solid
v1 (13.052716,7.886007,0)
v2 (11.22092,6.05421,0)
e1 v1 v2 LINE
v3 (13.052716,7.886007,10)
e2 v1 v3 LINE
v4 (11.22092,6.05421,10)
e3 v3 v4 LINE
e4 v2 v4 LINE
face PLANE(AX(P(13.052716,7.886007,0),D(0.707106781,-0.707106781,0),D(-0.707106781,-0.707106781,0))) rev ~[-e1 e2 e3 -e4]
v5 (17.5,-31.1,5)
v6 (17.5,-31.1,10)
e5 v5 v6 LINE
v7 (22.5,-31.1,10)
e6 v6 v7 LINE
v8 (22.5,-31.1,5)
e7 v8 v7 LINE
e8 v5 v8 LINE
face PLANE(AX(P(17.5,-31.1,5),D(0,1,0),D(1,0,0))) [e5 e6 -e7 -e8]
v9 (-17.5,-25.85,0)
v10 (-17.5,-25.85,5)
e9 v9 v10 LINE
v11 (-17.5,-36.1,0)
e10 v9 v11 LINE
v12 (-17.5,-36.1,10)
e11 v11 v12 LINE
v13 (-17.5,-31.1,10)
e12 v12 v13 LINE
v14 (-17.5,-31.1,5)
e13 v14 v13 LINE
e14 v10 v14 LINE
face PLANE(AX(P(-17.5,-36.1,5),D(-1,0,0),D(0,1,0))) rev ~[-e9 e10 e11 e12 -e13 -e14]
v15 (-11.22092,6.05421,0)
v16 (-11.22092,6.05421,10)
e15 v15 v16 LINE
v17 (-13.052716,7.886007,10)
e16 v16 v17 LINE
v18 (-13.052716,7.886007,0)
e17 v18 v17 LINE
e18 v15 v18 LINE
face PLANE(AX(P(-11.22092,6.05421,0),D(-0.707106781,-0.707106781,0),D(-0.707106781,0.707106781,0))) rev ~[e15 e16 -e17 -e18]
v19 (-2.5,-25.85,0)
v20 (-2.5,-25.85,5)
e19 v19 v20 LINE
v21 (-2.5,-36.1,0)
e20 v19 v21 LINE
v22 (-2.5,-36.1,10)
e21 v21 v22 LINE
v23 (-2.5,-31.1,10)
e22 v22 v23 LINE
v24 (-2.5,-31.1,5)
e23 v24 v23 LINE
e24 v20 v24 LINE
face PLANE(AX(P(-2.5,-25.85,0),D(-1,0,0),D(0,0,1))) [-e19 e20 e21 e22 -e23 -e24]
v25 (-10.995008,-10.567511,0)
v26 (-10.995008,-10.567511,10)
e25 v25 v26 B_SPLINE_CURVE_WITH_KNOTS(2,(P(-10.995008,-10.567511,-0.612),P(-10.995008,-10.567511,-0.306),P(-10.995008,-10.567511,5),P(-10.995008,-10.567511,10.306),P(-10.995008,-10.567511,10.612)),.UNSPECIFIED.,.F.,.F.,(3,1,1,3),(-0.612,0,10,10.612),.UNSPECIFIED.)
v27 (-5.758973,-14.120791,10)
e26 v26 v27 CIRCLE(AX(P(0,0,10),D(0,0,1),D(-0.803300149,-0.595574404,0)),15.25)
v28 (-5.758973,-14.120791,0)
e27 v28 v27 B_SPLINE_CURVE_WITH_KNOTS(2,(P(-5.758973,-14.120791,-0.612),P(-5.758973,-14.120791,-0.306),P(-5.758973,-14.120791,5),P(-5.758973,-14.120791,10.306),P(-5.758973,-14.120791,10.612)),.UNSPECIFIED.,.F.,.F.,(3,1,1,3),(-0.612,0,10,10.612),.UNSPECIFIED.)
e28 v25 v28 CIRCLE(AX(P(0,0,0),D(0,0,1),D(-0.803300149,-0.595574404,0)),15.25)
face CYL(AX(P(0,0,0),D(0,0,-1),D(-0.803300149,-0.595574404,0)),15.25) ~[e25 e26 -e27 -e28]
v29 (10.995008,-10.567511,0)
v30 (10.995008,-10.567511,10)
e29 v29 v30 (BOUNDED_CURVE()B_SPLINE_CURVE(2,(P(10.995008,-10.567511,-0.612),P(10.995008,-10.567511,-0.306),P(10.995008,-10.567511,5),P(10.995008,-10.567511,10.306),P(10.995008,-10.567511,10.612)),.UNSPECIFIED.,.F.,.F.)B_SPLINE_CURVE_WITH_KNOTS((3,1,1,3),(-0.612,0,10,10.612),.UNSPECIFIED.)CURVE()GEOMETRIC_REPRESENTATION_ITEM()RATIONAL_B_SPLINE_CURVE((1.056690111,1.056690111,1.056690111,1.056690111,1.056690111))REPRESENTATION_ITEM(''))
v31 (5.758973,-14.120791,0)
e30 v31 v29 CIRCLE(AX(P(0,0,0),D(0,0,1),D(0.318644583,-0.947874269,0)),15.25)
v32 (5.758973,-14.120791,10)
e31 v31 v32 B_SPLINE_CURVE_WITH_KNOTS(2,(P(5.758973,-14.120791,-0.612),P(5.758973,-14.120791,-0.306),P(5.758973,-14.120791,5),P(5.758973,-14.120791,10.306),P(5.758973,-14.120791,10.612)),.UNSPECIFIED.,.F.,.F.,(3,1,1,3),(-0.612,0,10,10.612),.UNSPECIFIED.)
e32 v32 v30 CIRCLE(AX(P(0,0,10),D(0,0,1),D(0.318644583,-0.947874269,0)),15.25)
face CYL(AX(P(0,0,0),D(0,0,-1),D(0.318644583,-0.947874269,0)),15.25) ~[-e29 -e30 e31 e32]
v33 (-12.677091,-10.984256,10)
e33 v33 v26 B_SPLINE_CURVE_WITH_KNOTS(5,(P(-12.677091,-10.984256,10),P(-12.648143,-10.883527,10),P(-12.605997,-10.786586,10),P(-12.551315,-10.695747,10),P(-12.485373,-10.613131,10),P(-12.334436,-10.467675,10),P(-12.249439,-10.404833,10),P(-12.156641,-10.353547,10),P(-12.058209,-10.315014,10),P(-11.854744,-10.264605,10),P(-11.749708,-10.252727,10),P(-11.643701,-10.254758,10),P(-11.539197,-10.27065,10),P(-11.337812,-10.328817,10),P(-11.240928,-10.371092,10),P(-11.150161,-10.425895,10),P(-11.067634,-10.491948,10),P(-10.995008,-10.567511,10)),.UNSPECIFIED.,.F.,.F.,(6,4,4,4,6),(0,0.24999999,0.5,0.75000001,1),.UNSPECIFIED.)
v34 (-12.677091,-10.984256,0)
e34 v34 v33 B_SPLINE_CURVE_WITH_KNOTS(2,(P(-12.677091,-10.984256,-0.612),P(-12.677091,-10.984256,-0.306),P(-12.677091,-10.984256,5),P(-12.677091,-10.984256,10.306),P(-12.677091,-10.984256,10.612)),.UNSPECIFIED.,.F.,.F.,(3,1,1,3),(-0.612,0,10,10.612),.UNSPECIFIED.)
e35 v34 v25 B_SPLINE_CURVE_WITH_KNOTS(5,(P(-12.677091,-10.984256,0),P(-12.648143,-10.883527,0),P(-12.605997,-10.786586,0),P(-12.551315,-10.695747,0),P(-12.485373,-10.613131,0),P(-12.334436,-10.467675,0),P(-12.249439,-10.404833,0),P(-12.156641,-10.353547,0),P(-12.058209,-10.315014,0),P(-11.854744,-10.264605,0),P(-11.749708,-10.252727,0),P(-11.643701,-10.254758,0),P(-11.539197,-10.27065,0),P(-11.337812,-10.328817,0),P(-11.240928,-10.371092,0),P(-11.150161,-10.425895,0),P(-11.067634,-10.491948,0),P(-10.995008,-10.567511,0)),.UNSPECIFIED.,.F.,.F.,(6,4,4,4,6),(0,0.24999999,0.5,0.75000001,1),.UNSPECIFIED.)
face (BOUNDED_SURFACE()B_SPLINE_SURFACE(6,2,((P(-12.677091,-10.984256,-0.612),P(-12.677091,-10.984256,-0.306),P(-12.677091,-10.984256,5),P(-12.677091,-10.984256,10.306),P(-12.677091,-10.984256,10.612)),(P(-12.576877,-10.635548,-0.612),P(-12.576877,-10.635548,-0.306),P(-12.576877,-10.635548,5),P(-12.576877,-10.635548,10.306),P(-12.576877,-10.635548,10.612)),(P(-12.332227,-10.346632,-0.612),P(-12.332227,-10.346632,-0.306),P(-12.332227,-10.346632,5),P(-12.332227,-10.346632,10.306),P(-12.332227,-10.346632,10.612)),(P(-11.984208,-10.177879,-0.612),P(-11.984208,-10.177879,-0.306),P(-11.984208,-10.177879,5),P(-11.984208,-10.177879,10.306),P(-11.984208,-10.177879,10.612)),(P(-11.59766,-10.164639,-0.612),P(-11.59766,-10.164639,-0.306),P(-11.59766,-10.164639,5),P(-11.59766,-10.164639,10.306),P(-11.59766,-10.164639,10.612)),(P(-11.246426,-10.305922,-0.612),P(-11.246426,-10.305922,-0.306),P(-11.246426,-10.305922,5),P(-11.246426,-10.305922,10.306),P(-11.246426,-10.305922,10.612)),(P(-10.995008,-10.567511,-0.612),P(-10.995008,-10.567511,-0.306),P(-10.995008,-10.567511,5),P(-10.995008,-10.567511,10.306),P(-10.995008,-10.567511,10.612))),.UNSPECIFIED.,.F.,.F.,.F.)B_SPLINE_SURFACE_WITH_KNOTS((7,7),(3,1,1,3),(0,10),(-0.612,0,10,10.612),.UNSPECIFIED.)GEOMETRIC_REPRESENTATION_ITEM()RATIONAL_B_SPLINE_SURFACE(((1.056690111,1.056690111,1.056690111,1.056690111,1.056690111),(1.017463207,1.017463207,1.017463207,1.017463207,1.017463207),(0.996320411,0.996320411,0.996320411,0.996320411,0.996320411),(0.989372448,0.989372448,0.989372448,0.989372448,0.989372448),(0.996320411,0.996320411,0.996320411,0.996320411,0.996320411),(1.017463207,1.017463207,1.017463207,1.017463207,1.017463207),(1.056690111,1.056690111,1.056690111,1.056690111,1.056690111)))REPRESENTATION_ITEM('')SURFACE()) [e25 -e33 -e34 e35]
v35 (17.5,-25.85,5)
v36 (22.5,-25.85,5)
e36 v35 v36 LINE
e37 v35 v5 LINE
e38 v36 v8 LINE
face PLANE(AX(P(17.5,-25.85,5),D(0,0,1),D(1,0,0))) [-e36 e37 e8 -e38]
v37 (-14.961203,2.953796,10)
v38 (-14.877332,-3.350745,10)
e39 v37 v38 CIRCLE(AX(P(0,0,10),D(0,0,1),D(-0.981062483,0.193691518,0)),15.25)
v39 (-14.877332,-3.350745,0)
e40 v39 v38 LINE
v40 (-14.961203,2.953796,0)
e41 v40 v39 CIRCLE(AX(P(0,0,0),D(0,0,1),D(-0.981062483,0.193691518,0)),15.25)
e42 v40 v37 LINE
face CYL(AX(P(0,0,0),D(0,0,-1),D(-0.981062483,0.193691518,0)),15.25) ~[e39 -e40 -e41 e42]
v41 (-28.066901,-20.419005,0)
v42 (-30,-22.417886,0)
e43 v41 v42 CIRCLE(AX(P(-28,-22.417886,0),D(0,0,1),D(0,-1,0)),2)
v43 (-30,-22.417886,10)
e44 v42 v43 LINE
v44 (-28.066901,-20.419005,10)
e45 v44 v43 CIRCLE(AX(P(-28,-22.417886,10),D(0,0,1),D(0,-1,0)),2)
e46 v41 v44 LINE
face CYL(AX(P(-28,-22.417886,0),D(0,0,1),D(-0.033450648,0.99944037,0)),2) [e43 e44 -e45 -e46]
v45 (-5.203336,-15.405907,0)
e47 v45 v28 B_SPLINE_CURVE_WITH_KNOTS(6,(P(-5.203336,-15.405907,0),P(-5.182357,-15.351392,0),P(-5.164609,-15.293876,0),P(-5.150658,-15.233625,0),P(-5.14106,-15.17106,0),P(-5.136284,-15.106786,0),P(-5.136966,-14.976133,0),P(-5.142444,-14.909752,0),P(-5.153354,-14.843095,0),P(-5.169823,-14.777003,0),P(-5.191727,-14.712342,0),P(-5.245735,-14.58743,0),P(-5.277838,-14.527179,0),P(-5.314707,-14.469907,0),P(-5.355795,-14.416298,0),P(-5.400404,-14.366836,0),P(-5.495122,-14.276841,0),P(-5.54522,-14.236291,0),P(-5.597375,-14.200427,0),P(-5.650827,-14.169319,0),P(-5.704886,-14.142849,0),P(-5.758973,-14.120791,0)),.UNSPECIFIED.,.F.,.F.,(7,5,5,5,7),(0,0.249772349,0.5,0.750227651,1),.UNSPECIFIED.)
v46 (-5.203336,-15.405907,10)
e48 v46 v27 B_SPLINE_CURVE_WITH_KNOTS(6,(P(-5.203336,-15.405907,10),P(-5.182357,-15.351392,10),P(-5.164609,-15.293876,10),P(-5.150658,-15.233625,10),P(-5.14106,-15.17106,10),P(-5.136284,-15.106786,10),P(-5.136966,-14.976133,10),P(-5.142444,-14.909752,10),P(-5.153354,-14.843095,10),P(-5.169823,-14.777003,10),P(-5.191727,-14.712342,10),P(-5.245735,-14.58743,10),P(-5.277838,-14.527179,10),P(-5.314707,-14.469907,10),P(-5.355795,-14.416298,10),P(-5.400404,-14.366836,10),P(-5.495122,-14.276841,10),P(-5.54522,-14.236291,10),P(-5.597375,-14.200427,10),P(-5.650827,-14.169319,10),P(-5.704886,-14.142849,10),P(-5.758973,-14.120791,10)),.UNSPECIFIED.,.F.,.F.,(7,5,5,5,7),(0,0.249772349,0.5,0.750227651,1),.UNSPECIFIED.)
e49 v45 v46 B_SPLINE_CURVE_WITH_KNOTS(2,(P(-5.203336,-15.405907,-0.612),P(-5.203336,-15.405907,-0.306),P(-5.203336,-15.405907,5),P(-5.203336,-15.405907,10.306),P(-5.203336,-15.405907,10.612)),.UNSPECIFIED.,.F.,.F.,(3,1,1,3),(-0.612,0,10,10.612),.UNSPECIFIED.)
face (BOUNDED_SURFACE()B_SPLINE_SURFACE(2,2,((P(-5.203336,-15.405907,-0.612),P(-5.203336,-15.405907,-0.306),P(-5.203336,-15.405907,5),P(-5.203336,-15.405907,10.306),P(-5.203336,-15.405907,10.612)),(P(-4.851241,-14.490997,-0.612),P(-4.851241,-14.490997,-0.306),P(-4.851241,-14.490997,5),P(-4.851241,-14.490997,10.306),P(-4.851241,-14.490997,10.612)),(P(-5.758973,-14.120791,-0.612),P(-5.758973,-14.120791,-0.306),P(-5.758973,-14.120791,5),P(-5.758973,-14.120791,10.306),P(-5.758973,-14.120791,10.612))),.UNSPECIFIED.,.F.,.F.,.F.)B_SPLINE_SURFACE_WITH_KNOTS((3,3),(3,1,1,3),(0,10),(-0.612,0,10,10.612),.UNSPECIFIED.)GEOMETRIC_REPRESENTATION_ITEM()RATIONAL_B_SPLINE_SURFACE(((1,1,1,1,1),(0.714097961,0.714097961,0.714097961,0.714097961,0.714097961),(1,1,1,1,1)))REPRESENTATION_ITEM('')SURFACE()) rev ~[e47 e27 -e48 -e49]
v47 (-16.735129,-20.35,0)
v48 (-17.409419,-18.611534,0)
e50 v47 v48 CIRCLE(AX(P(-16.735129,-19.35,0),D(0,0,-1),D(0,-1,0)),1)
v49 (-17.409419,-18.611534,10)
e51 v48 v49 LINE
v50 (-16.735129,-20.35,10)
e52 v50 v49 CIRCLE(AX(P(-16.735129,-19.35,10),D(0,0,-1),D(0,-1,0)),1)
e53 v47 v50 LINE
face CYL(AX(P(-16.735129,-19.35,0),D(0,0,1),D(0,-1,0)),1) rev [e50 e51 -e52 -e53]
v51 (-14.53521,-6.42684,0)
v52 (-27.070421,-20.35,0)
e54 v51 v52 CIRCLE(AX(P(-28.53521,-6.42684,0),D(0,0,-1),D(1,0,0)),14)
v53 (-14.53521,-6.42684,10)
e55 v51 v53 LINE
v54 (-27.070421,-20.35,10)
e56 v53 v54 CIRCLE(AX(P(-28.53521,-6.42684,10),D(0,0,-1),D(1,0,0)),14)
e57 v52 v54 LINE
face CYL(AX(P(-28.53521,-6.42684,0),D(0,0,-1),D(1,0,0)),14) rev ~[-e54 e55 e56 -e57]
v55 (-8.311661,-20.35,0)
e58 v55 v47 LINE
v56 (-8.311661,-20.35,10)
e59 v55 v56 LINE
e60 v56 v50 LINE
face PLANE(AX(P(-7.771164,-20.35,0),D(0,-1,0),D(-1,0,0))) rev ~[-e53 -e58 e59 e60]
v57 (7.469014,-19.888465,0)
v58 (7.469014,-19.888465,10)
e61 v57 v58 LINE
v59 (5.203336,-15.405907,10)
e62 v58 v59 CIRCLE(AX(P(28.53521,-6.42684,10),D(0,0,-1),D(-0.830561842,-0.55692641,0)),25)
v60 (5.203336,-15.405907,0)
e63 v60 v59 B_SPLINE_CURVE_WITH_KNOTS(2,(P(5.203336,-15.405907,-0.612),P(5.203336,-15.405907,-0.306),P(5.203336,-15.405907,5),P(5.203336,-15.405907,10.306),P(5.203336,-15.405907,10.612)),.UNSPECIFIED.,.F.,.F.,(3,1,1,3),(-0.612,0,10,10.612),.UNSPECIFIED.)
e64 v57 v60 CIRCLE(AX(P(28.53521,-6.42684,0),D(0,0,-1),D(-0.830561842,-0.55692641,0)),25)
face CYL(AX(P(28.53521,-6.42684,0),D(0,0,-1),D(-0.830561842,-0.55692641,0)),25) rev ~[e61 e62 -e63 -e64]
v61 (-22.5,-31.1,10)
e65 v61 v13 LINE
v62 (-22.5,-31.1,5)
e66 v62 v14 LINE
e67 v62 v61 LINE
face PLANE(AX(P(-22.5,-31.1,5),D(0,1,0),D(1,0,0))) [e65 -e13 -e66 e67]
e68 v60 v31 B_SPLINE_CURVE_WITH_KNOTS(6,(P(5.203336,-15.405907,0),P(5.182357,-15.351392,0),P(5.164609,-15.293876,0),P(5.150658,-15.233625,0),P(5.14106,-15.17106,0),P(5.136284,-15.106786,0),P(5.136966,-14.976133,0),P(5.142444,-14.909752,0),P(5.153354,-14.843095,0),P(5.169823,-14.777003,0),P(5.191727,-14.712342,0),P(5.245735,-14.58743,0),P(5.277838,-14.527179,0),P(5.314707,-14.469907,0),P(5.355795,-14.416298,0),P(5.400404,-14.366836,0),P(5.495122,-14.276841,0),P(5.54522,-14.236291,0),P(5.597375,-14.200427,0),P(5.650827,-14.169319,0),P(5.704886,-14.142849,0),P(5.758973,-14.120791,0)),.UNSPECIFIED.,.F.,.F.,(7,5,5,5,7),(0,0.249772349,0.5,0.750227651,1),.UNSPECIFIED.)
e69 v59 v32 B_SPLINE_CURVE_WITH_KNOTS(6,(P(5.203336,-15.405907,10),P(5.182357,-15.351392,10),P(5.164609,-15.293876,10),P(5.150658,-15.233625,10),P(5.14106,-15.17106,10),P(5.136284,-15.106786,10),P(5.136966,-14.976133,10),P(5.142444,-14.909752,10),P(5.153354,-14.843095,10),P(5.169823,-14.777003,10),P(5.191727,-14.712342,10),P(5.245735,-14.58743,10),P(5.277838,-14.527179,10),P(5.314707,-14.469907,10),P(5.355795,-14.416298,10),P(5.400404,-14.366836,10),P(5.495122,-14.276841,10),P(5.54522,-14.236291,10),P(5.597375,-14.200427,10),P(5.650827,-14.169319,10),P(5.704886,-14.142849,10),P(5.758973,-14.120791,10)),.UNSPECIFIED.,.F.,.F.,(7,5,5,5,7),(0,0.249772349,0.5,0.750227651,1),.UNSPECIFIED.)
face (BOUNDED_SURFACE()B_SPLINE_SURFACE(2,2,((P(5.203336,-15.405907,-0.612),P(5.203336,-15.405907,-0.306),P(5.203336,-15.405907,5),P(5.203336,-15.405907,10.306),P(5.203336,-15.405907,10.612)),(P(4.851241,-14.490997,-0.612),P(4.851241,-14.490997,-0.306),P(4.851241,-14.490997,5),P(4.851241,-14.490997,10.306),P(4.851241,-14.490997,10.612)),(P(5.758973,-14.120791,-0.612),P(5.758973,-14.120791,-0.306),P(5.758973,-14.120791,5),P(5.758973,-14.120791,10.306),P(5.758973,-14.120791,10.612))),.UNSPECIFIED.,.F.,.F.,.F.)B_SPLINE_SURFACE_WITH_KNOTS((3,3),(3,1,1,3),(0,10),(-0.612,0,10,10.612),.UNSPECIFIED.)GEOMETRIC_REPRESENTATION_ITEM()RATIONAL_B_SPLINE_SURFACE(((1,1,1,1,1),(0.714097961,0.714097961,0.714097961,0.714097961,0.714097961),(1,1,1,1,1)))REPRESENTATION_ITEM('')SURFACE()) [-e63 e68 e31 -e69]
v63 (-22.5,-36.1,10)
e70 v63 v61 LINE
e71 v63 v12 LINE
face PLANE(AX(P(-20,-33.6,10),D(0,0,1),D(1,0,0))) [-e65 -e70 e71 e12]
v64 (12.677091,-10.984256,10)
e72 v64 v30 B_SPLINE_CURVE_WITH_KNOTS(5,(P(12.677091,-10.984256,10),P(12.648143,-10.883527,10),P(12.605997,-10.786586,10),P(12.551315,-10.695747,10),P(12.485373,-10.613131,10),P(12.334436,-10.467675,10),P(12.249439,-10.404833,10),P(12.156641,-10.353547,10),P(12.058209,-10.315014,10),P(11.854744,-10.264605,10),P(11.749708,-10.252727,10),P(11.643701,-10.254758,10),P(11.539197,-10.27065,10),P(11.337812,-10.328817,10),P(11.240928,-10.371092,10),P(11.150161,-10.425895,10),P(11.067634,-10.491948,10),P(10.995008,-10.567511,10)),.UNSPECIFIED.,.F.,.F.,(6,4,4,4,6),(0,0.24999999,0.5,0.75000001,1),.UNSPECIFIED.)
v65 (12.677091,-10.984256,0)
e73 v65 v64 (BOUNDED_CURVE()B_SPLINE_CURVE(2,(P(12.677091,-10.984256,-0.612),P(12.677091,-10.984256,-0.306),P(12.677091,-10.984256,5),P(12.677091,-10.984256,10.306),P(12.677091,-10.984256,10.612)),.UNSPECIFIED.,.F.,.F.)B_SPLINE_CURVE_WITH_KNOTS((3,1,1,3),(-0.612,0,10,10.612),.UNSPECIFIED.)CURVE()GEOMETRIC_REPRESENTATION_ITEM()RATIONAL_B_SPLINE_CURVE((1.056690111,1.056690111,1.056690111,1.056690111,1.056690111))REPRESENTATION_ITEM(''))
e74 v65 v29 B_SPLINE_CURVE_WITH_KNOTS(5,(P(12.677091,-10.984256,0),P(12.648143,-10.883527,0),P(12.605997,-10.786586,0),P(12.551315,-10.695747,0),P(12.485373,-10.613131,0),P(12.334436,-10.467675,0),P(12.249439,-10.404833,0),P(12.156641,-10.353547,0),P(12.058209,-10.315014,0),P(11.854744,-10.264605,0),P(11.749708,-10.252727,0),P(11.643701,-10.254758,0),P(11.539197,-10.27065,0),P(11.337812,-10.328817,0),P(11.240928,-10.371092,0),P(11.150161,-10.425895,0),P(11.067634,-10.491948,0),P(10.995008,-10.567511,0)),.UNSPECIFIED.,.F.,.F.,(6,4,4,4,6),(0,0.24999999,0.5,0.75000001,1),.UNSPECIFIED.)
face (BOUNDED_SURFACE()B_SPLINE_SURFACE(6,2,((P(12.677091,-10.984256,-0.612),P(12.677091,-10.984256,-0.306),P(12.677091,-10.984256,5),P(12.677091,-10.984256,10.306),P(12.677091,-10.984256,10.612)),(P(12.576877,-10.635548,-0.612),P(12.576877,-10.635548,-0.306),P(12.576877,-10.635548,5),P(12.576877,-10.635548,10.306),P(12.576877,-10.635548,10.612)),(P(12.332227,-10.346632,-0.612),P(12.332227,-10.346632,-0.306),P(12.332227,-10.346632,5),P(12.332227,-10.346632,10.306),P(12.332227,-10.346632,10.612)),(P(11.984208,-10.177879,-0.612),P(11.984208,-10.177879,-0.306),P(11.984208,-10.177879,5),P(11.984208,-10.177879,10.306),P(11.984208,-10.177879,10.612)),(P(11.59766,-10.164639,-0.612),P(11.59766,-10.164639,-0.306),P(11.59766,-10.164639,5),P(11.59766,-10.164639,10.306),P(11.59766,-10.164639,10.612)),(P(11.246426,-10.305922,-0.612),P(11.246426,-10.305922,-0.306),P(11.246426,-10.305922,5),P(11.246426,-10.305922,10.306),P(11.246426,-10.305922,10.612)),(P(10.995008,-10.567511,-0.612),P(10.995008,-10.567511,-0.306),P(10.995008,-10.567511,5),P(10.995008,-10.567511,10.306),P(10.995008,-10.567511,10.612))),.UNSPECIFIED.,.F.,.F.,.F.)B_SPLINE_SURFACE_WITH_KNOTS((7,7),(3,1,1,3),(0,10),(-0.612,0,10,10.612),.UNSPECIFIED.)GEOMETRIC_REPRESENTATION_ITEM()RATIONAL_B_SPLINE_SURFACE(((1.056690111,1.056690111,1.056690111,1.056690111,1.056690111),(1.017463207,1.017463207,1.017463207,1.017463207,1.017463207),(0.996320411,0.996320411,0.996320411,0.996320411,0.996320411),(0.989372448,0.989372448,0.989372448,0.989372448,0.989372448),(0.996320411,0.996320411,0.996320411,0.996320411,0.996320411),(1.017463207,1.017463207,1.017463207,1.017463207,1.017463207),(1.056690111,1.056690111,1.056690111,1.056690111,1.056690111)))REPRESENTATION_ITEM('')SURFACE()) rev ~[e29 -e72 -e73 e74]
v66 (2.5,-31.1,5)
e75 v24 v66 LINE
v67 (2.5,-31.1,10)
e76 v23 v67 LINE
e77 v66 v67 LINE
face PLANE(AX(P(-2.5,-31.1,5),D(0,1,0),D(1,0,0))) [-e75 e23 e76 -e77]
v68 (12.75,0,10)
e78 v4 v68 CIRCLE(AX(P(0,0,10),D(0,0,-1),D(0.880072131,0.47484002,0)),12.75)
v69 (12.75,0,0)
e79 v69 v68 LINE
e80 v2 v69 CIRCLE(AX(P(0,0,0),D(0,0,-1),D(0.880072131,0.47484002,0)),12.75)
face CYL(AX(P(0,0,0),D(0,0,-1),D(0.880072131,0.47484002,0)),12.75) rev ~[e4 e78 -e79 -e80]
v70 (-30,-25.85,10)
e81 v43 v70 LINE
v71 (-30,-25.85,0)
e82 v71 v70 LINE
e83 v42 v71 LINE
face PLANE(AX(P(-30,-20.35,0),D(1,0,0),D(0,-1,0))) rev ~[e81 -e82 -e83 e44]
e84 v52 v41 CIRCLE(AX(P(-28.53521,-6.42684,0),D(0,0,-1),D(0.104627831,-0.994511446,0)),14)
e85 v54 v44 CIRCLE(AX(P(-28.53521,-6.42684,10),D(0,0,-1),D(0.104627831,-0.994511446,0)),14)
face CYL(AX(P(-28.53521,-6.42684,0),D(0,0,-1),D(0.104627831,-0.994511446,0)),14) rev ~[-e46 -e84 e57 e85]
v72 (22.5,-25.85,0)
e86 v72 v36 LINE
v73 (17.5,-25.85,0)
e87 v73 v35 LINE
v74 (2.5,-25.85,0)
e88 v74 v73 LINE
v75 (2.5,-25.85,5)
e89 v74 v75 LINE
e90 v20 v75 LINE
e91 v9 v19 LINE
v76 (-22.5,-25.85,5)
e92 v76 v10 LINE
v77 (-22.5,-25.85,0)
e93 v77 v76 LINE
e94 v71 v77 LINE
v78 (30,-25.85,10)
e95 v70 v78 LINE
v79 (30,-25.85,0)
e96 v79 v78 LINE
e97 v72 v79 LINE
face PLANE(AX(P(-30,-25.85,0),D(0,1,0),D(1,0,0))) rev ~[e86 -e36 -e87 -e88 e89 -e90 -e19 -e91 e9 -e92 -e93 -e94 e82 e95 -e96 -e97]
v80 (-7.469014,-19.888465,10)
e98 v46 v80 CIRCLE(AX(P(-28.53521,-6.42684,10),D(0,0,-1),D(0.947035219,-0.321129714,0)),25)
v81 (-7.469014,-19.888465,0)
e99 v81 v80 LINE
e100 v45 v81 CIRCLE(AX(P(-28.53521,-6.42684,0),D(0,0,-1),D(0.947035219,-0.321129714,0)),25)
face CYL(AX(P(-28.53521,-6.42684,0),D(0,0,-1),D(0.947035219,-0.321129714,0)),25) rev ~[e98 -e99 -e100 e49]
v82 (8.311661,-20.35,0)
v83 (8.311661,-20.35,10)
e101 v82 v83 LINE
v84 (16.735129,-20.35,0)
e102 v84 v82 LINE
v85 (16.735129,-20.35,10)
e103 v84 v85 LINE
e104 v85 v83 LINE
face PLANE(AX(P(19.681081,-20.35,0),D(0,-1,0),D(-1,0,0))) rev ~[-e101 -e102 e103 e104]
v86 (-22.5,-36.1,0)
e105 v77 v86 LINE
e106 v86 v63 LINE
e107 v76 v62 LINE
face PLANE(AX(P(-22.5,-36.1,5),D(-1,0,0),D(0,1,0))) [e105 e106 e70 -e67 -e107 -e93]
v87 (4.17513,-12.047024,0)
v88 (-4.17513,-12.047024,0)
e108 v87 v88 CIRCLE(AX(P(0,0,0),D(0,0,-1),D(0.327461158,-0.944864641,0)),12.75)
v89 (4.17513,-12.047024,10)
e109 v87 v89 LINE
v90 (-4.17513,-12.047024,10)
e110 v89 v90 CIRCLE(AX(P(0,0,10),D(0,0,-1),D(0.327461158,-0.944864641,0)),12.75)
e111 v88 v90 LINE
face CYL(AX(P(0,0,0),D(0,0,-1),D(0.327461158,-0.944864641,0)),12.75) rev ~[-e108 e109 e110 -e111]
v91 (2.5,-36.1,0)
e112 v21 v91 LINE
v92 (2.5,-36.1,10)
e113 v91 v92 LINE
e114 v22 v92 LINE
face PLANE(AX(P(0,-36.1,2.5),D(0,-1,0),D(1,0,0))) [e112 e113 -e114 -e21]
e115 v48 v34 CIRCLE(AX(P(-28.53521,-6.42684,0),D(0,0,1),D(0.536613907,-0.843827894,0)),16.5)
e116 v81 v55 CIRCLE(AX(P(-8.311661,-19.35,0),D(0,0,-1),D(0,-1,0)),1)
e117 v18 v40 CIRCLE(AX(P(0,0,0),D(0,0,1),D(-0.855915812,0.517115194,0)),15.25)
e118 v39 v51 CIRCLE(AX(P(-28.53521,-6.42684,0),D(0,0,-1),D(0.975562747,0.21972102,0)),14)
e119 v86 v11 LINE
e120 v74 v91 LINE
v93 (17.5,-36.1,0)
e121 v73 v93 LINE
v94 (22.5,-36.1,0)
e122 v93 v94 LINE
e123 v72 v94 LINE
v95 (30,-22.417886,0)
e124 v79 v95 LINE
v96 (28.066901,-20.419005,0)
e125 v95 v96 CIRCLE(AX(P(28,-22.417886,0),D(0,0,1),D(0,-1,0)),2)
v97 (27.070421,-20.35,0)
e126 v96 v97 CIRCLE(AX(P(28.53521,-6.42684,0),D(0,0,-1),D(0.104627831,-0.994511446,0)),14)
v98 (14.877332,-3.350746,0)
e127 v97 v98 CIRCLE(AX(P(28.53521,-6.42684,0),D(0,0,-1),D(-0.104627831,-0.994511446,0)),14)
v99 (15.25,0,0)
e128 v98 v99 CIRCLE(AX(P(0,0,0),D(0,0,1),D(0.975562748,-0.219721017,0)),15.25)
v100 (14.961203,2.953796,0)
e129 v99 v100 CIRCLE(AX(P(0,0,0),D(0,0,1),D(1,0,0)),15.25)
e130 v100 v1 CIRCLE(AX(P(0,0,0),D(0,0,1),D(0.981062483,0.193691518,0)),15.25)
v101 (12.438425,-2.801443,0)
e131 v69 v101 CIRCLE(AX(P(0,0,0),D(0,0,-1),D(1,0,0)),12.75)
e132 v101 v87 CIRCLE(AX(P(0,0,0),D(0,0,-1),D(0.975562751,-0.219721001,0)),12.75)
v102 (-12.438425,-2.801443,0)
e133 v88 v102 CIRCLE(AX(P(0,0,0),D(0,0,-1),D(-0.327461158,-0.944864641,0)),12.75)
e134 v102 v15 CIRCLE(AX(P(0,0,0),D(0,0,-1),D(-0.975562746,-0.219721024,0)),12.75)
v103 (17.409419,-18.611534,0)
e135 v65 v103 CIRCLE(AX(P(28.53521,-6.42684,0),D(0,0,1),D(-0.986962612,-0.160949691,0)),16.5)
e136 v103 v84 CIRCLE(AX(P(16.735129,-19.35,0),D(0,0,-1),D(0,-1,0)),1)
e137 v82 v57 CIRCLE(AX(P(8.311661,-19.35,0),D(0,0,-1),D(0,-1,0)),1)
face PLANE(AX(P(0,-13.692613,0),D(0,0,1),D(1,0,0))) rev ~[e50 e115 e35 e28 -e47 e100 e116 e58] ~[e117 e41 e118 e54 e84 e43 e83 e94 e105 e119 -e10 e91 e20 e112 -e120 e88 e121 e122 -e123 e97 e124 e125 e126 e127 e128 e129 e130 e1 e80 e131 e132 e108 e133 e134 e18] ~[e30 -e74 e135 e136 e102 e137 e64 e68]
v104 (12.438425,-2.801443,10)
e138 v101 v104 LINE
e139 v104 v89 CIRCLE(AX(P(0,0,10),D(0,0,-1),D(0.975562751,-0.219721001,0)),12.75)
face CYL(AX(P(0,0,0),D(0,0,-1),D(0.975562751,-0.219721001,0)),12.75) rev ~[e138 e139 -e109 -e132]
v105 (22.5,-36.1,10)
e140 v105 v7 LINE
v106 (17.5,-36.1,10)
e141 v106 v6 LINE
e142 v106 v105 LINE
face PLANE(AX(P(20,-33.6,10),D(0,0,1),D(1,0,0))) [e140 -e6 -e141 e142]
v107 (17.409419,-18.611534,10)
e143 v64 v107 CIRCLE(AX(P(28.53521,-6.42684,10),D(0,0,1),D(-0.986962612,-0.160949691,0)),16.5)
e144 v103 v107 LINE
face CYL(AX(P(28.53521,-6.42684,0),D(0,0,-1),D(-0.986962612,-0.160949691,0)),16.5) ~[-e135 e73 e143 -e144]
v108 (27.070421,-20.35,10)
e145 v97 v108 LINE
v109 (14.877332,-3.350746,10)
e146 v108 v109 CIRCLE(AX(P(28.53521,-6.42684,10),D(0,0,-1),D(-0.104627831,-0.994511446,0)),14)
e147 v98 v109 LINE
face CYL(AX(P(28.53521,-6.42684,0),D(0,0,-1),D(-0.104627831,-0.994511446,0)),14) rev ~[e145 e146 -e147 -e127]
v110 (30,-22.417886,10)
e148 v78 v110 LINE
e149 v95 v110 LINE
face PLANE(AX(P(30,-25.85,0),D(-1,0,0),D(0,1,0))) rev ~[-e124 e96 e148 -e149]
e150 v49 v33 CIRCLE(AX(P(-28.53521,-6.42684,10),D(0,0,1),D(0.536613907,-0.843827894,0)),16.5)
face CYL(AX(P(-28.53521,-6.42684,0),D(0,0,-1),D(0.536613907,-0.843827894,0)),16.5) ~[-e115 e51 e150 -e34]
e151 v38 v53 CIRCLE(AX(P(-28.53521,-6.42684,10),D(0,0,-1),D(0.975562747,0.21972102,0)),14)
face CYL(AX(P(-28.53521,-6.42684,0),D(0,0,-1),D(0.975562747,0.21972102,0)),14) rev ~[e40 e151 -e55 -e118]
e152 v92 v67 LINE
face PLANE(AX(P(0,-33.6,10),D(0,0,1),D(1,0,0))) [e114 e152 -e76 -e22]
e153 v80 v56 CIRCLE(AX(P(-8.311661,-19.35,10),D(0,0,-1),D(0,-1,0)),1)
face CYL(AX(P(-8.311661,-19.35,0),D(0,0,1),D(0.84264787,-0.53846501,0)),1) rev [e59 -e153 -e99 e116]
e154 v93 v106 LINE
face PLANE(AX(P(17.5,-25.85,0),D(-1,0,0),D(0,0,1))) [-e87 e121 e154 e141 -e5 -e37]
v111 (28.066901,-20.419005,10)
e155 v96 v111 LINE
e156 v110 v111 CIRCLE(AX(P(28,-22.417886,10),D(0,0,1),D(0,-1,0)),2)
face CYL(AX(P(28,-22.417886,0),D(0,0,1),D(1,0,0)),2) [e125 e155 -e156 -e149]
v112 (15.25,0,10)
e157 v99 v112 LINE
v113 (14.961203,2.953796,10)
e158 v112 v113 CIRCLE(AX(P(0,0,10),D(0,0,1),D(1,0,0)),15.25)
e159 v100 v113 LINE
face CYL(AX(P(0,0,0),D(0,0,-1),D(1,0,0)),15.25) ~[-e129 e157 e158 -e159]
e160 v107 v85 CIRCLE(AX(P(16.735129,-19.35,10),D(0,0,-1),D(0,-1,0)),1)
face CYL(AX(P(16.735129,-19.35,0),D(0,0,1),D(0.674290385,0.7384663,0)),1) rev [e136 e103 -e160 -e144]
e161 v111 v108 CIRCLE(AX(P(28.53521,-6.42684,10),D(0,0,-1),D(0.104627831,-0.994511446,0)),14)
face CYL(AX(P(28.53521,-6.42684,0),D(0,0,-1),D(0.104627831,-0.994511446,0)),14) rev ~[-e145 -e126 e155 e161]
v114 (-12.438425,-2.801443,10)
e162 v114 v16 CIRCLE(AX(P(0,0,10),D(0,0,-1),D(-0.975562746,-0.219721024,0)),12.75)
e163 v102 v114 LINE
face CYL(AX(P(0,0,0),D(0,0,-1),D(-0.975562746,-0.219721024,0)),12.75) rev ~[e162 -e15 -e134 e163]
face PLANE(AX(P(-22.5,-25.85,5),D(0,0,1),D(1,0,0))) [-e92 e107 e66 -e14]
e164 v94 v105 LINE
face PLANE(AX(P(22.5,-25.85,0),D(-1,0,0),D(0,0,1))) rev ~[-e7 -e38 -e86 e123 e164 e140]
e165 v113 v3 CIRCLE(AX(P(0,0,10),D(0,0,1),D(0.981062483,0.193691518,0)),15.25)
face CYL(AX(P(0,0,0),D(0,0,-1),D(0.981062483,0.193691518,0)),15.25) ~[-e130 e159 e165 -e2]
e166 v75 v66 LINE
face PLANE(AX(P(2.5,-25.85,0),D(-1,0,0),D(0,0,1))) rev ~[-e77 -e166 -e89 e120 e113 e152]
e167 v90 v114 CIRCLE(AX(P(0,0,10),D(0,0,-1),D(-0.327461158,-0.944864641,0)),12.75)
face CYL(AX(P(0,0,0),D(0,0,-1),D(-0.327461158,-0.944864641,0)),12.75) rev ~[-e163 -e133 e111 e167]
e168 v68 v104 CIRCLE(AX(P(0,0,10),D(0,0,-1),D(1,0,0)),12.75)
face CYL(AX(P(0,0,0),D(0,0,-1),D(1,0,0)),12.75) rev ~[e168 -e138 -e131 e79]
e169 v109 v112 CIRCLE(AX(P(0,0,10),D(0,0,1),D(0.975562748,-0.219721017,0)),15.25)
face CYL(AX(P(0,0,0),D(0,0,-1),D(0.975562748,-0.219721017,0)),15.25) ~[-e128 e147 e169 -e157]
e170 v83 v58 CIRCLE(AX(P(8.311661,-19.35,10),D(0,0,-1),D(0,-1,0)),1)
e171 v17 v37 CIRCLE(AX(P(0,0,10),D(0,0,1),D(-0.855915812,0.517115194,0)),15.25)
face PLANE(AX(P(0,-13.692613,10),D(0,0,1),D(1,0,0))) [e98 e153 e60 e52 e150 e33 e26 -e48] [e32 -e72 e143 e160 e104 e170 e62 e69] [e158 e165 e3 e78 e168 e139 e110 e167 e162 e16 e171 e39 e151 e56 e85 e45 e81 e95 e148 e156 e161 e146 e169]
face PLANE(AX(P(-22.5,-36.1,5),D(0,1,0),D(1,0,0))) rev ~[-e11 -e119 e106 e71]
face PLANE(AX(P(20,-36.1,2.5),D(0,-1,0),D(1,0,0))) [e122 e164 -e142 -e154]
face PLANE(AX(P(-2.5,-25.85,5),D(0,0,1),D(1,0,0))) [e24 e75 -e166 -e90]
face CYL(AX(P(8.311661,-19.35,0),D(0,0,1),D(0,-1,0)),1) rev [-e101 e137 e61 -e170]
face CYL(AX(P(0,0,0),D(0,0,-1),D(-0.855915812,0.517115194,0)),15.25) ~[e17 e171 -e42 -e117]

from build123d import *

# Parameters (mm, degrees)
F1_DEPTH = 10
F2_R     = 1
F3_R     = 2
F4_W     = 5
F4_H     = 5
F5_DEPTH = 10.25
F6_W     = 5
F6_H     = 5
F7_W     = 5
F7_H     = 5
F8_W     = 5
F8_H     = 5
F9_DEPTH = 5


with BuildPart() as f1:
    # F0 (on Top) → F1 (new body)
    with BuildSketch(Plane.XY):
        with BuildLine():
            ThreePointArc((4.8593298853, -14.4550826032), (4.4870695728, -13.259622802), (4.1751297651, -12.0470241738))
            ThreePointArc((4.1751297651, -12.0470241738), (0, -12.75), (-4.1751297651, -12.0470241738))
            ThreePointArc((-4.1751297651, -12.0470241738), (-4.4870695728, -13.259622802), (-4.8593298853, -14.4550826032))
            ThreePointArc((-4.8593298853, -14.4550826032), (-2.4619596159, -15.0499586328), (0, -15.25))
            ThreePointArc((0, -15.25), (2.4619596159, -15.0499586328), (4.8593298853, -14.4550826032))
        make_face()
        with BuildLine():
            ThreePointArc((0, -15.25), (-2.4619596159, -15.0499586328), (-4.8593298853, -14.4550826032))
            ThreePointArc((-4.8593298853, -14.4550826032), (-6.1206106512, -17.4986832949), (-7.7711643122, -20.35))
            Line((-7.7711643122, -20.35), (0, -20.35))
            Line((0, -20.35), (0, -15.25))
        make_face()
        with BuildLine():
            ThreePointArc((7.7711643122, -20.35), (6.1206106512, -17.4986832949), (4.8593298853, -14.4550826032))
            ThreePointArc((4.8593298853, -14.4550826032), (2.4619596159, -15.0499586328), (0, -15.25))
            Line((0, -15.25), (0, -20.35))
            Line((0, -20.35), (7.7711643122, -20.35))
        make_face()
        with BuildLine():
            ThreePointArc((-12.1977073115, -25.35), (-9.8167372296, -22.998464997), (-7.7711643122, -20.35))
            Line((-7.7711643122, -20.35), (-19.6810808999, -20.35))
            ThreePointArc((-19.6810808999, -20.35), (-24.6329372033, -22.4587536765), (-30, -22.8616926958))
            Line((-30, -22.8616926958), (-30, -25.35))
            Line((-30, -25.35), (-12.1977073115, -25.35))
        make_face()
        with BuildLine():
            Line((-30, -20.35), (-30, -22.8616926958))
            ThreePointArc((-30, -22.8616926958), (-24.6329372033, -22.4587536765), (-19.6810808999, -20.35))
            Line((-19.6810808999, -20.35), (-27.0704207387, -20.35))
            ThreePointArc((-27.0704207387, -20.35), (-28.5352103694, -20.4268397503), (-30, -20.35))
        make_face()
        with BuildLine():
            Line((0, -20.35), (-7.7711643122, -20.35))
            ThreePointArc((-7.7711643122, -20.35), (-9.8167372296, -22.998464997), (-12.1977073115, -25.35))
            Line((-12.1977073115, -25.35), (0, -25.35))
            Line((0, -25.35), (0, -20.35))
        make_face()
        with BuildLine():
            ThreePointArc((12.1977073115, -25.35), (9.8167372296, -22.998464997), (7.7711643122, -20.35))
            Line((7.7711643122, -20.35), (0, -20.35))
            Line((0, -20.35), (0, -25.35))
            Line((0, -25.35), (12.1977073115, -25.35))
        make_face()
        with BuildLine():
            Line((19.6810808999, -20.35), (7.7711643122, -20.35))
            ThreePointArc((7.7711643122, -20.35), (9.8167372296, -22.998464997), (12.1977073115, -25.35))
            Line((12.1977073115, -25.35), (30, -25.35))
            Line((30, -25.35), (30, -22.8616926958))
            ThreePointArc((30, -22.8616926958), (24.6329372033, -22.4587536765), (19.6810808999, -20.35))
        make_face()
        with BuildLine():
            Line((27.0704207387, -20.35), (19.6810808999, -20.35))
            ThreePointArc((19.6810808999, -20.35), (24.6329372033, -22.4587536765), (30, -22.8616926958))
            Line((30, -22.8616926958), (30, -20.35))
            ThreePointArc((30, -20.35), (28.5352103694, -20.4268397503), (27.0704207387, -20.35))
        make_face()
        with BuildLine():
            ThreePointArc((-12.0352103694, -6.4268397503), (-12.1363238462, -4.6029645348), (-12.438425012, -2.8014430604))
            ThreePointArc((-12.438425012, -2.8014430604), (-13.4233051179, 0.1973824432), (-14.9612028693, 2.9537956434))
            ThreePointArc((-14.9612028693, 2.9537956434), (-15.2486507313, -0.2028567877), (-14.8773319104, -3.3507454733))
            ThreePointArc((-14.8773319104, -3.3507454733), (-13.863287972, -6.3538765023), (-12.2503272762, -9.0825096547))
            ThreePointArc((-12.2503272762, -9.0825096547), (-12.0890775255, -7.7590238521), (-12.0352103694, -6.4268397503))
        make_face()
        with BuildLine():
            ThreePointArc((-4.8593298853, -14.4550826032), (-4.4870695728, -13.259622802), (-4.1751297651, -12.0470241738))
            ThreePointArc((-4.1751297651, -12.0470241738), (-9.5064579689, -8.4964555484), (-12.438425012, -2.8014430604))
            ThreePointArc((-12.438425012, -2.8014430604), (-12.1363238462, -4.6029645348), (-12.0352103694, -6.4268397503))
            ThreePointArc((-12.0352103694, -6.4268397503), (-12.0890775255, -7.7590238521), (-12.2503272762, -9.0825096547))
            ThreePointArc((-12.2503272762, -9.0825096547), (-8.9666731326, -12.3353667531), (-4.8593298853, -14.4550826032))
        make_face()
        with BuildLine():
            ThreePointArc((12.4384250802, -2.8014427577), (9.5064580723, -8.4964554327), (4.1751297651, -12.0470241738))
            ThreePointArc((4.1751297651, -12.0470241738), (4.4870695728, -13.259622802), (4.8593298853, -14.4550826032))
            ThreePointArc((4.8593298853, -14.4550826032), (8.9666731326, -12.3353667531), (12.2503272762, -9.0825096547))
            ThreePointArc((12.2503272762, -9.0825096547), (12.0426040821, -5.9329391), (12.4384250802, -2.8014427577))
        make_face()
        with BuildLine():
            ThreePointArc((14.9612028693, 2.9537956434), (13.4233051801, 0.1973825853), (12.4384250802, -2.8014427577))
            ThreePointArc((12.4384250802, -2.8014427577), (12.0426040821, -5.9329391), (12.2503272762, -9.0825096547))
            ThreePointArc((12.2503272762, -9.0825096547), (13.8632879655, -6.3538765165), (14.8773319036, -3.3507455038))
            ThreePointArc((14.8773319036, -3.3507455038), (15.1565466306, -1.6857028906), (15.25, 0))
            ThreePointArc((15.25, 0), (15.177628994, 1.4839400666), (14.9612028693, 2.9537956434))
        make_face()
        with BuildLine():
            ThreePointArc((-19.6810808999, -20.35), (-14.7609019356, -15.5108051385), (-12.2503272762, -9.0825096547))
            ThreePointArc((-12.2503272762, -9.0825096547), (-13.863287972, -6.3538765023), (-14.8773319104, -3.3507454733))
            ThreePointArc((-14.8773319104, -3.3507454733), (-14.621003629, -4.8793092054), (-14.5352103694, -6.4268397503))
            ThreePointArc((-14.5352103694, -6.4268397503), (-18.1307148307, -15.7941484666), (-27.0704207387, -20.35))
            Line((-27.0704207387, -20.35), (-19.6810808999, -20.35))
        make_face()
        with BuildLine():
            ThreePointArc((14.8773319036, -3.3507455038), (13.8632879655, -6.3538765165), (12.2503272762, -9.0825096547))
            ThreePointArc((12.2503272762, -9.0825096547), (14.7609019356, -15.5108051385), (19.6810808999, -20.35))
            Line((19.6810808999, -20.35), (27.0704207387, -20.35))
            ThreePointArc((27.0704207387, -20.35), (17.1590319273, -14.5866537221), (14.8773319036, -3.3507455038))
        make_face()
        with BuildLine():
            ThreePointArc((-12.438425012, -2.8014430604), (-12.6311834993, 1.7365780743), (-11.2209196713, 6.0542102482))
            Line((-11.2209196713, 6.0542102482), (-13.0527161264, 7.8860067033))
            ThreePointArc((-13.0527161264, 7.8860067033), (-14.2223975074, 5.5032634991), (-14.9612028693, 2.9537956434))
            ThreePointArc((-14.9612028693, 2.9537956434), (-13.4233051179, 0.1973824432), (-12.438425012, -2.8014430604))
        make_face()
        with BuildLine():
            Line((13.0527161264, 7.8860067033), (11.2209196713, 6.0542102482))
            ThreePointArc((11.2209196713, 6.0542102482), (12.3618207763, 3.1221606454), (12.75, 0))
            ThreePointArc((12.75, 0), (12.6718668667, -1.4093580502), (12.4384250802, -2.8014427577))
            ThreePointArc((12.4384250802, -2.8014427577), (13.4233051801, 0.1973825853), (14.9612028693, 2.9537956434))
            ThreePointArc((14.9612028693, 2.9537956434), (14.2223975074, 5.5032634991), (13.0527161264, 7.8860067033))
        make_face()
        with BuildLine():
            Line((-30, -25.85), (-12.7954249224, -25.85))
            ThreePointArc((-12.7954249224, -25.85), (-12.4946178162, -25.6023290673), (-12.1977073115, -25.35))
            Line((-12.1977073115, -25.35), (-30, -25.35))
            Line((-30, -25.35), (-30, -25.85))
        make_face()
        with BuildLine():
            ThreePointArc((12.7954249224, -25.85), (12.4946178162, -25.6023290673), (12.1977073115, -25.35))
            Line((12.1977073115, -25.35), (0, -25.35))
            Line((0, -25.35), (-12.1977073115, -25.35))
            ThreePointArc((-12.1977073115, -25.35), (-12.4946178162, -25.6023290673), (-12.7954249224, -25.85))
            Line((-12.7954249224, -25.85), (12.7954249224, -25.85))
        make_face()
        with BuildLine():
            Line((30, -25.35), (12.1977073115, -25.35))
            ThreePointArc((12.1977073115, -25.35), (12.4946178162, -25.6023290673), (12.7954249224, -25.85))
            Line((12.7954249224, -25.85), (30, -25.85))
            Line((30, -25.85), (30, -25.35))
        make_face()
    extrude(amount=F1_DEPTH)

    # F2
    f2_edges = [f1.edges().sort_by_distance(p)[0] for p in [
        (-7.771164, -20.35, 5),
        (-4.85933, -14.455083, 5),
        (-12.250327, -9.08251, 5),
        (-19.681081, -20.35, 5),
        (7.771164, -20.35, 5),
        (4.85933, -14.455083, 5),
        (12.250327, -9.08251, 5),
        (19.681081, -20.35, 5),
    ]]
    fillet(f2_edges, radius=F2_R)

    # F3
    f3_edges = [f1.edges().sort_by_distance(p)[0] for p in [
        (30, -20.35, 5),
        (-30, -20.35, 5),
    ]]
    fillet(f3_edges, radius=F3_R)

    # F4 (on face) → F5 (join)
    with BuildSketch(Plane.XZ.offset(25.85)):
        with Locations((-20, 2.5)):
            Rectangle(F4_W, F4_H)
        with Locations((0, 2.5)):
            Rectangle(F4_W, F4_H)
        with Locations((20, 2.5)):
            Rectangle(F4_W, F4_H)
    extrude(amount=F5_DEPTH)

    # F6 (on face) + F7 (on face) + F8 (on face) → F9 (join)
    with BuildSketch(Plane.XY.offset(5)):
        with Locations((-20, -33.6)):
            Rectangle(F6_W, F6_H)
    with BuildSketch(Plane.XY.offset(5)):
        with Locations((0, -33.6)):
            Rectangle(F7_W, F7_H)
    with BuildSketch(Plane.XY.offset(5)):
        with Locations((20, -33.6)):
            Rectangle(F8_W, F8_H)
    extrude(amount=F9_DEPTH)


solid = f1.part
